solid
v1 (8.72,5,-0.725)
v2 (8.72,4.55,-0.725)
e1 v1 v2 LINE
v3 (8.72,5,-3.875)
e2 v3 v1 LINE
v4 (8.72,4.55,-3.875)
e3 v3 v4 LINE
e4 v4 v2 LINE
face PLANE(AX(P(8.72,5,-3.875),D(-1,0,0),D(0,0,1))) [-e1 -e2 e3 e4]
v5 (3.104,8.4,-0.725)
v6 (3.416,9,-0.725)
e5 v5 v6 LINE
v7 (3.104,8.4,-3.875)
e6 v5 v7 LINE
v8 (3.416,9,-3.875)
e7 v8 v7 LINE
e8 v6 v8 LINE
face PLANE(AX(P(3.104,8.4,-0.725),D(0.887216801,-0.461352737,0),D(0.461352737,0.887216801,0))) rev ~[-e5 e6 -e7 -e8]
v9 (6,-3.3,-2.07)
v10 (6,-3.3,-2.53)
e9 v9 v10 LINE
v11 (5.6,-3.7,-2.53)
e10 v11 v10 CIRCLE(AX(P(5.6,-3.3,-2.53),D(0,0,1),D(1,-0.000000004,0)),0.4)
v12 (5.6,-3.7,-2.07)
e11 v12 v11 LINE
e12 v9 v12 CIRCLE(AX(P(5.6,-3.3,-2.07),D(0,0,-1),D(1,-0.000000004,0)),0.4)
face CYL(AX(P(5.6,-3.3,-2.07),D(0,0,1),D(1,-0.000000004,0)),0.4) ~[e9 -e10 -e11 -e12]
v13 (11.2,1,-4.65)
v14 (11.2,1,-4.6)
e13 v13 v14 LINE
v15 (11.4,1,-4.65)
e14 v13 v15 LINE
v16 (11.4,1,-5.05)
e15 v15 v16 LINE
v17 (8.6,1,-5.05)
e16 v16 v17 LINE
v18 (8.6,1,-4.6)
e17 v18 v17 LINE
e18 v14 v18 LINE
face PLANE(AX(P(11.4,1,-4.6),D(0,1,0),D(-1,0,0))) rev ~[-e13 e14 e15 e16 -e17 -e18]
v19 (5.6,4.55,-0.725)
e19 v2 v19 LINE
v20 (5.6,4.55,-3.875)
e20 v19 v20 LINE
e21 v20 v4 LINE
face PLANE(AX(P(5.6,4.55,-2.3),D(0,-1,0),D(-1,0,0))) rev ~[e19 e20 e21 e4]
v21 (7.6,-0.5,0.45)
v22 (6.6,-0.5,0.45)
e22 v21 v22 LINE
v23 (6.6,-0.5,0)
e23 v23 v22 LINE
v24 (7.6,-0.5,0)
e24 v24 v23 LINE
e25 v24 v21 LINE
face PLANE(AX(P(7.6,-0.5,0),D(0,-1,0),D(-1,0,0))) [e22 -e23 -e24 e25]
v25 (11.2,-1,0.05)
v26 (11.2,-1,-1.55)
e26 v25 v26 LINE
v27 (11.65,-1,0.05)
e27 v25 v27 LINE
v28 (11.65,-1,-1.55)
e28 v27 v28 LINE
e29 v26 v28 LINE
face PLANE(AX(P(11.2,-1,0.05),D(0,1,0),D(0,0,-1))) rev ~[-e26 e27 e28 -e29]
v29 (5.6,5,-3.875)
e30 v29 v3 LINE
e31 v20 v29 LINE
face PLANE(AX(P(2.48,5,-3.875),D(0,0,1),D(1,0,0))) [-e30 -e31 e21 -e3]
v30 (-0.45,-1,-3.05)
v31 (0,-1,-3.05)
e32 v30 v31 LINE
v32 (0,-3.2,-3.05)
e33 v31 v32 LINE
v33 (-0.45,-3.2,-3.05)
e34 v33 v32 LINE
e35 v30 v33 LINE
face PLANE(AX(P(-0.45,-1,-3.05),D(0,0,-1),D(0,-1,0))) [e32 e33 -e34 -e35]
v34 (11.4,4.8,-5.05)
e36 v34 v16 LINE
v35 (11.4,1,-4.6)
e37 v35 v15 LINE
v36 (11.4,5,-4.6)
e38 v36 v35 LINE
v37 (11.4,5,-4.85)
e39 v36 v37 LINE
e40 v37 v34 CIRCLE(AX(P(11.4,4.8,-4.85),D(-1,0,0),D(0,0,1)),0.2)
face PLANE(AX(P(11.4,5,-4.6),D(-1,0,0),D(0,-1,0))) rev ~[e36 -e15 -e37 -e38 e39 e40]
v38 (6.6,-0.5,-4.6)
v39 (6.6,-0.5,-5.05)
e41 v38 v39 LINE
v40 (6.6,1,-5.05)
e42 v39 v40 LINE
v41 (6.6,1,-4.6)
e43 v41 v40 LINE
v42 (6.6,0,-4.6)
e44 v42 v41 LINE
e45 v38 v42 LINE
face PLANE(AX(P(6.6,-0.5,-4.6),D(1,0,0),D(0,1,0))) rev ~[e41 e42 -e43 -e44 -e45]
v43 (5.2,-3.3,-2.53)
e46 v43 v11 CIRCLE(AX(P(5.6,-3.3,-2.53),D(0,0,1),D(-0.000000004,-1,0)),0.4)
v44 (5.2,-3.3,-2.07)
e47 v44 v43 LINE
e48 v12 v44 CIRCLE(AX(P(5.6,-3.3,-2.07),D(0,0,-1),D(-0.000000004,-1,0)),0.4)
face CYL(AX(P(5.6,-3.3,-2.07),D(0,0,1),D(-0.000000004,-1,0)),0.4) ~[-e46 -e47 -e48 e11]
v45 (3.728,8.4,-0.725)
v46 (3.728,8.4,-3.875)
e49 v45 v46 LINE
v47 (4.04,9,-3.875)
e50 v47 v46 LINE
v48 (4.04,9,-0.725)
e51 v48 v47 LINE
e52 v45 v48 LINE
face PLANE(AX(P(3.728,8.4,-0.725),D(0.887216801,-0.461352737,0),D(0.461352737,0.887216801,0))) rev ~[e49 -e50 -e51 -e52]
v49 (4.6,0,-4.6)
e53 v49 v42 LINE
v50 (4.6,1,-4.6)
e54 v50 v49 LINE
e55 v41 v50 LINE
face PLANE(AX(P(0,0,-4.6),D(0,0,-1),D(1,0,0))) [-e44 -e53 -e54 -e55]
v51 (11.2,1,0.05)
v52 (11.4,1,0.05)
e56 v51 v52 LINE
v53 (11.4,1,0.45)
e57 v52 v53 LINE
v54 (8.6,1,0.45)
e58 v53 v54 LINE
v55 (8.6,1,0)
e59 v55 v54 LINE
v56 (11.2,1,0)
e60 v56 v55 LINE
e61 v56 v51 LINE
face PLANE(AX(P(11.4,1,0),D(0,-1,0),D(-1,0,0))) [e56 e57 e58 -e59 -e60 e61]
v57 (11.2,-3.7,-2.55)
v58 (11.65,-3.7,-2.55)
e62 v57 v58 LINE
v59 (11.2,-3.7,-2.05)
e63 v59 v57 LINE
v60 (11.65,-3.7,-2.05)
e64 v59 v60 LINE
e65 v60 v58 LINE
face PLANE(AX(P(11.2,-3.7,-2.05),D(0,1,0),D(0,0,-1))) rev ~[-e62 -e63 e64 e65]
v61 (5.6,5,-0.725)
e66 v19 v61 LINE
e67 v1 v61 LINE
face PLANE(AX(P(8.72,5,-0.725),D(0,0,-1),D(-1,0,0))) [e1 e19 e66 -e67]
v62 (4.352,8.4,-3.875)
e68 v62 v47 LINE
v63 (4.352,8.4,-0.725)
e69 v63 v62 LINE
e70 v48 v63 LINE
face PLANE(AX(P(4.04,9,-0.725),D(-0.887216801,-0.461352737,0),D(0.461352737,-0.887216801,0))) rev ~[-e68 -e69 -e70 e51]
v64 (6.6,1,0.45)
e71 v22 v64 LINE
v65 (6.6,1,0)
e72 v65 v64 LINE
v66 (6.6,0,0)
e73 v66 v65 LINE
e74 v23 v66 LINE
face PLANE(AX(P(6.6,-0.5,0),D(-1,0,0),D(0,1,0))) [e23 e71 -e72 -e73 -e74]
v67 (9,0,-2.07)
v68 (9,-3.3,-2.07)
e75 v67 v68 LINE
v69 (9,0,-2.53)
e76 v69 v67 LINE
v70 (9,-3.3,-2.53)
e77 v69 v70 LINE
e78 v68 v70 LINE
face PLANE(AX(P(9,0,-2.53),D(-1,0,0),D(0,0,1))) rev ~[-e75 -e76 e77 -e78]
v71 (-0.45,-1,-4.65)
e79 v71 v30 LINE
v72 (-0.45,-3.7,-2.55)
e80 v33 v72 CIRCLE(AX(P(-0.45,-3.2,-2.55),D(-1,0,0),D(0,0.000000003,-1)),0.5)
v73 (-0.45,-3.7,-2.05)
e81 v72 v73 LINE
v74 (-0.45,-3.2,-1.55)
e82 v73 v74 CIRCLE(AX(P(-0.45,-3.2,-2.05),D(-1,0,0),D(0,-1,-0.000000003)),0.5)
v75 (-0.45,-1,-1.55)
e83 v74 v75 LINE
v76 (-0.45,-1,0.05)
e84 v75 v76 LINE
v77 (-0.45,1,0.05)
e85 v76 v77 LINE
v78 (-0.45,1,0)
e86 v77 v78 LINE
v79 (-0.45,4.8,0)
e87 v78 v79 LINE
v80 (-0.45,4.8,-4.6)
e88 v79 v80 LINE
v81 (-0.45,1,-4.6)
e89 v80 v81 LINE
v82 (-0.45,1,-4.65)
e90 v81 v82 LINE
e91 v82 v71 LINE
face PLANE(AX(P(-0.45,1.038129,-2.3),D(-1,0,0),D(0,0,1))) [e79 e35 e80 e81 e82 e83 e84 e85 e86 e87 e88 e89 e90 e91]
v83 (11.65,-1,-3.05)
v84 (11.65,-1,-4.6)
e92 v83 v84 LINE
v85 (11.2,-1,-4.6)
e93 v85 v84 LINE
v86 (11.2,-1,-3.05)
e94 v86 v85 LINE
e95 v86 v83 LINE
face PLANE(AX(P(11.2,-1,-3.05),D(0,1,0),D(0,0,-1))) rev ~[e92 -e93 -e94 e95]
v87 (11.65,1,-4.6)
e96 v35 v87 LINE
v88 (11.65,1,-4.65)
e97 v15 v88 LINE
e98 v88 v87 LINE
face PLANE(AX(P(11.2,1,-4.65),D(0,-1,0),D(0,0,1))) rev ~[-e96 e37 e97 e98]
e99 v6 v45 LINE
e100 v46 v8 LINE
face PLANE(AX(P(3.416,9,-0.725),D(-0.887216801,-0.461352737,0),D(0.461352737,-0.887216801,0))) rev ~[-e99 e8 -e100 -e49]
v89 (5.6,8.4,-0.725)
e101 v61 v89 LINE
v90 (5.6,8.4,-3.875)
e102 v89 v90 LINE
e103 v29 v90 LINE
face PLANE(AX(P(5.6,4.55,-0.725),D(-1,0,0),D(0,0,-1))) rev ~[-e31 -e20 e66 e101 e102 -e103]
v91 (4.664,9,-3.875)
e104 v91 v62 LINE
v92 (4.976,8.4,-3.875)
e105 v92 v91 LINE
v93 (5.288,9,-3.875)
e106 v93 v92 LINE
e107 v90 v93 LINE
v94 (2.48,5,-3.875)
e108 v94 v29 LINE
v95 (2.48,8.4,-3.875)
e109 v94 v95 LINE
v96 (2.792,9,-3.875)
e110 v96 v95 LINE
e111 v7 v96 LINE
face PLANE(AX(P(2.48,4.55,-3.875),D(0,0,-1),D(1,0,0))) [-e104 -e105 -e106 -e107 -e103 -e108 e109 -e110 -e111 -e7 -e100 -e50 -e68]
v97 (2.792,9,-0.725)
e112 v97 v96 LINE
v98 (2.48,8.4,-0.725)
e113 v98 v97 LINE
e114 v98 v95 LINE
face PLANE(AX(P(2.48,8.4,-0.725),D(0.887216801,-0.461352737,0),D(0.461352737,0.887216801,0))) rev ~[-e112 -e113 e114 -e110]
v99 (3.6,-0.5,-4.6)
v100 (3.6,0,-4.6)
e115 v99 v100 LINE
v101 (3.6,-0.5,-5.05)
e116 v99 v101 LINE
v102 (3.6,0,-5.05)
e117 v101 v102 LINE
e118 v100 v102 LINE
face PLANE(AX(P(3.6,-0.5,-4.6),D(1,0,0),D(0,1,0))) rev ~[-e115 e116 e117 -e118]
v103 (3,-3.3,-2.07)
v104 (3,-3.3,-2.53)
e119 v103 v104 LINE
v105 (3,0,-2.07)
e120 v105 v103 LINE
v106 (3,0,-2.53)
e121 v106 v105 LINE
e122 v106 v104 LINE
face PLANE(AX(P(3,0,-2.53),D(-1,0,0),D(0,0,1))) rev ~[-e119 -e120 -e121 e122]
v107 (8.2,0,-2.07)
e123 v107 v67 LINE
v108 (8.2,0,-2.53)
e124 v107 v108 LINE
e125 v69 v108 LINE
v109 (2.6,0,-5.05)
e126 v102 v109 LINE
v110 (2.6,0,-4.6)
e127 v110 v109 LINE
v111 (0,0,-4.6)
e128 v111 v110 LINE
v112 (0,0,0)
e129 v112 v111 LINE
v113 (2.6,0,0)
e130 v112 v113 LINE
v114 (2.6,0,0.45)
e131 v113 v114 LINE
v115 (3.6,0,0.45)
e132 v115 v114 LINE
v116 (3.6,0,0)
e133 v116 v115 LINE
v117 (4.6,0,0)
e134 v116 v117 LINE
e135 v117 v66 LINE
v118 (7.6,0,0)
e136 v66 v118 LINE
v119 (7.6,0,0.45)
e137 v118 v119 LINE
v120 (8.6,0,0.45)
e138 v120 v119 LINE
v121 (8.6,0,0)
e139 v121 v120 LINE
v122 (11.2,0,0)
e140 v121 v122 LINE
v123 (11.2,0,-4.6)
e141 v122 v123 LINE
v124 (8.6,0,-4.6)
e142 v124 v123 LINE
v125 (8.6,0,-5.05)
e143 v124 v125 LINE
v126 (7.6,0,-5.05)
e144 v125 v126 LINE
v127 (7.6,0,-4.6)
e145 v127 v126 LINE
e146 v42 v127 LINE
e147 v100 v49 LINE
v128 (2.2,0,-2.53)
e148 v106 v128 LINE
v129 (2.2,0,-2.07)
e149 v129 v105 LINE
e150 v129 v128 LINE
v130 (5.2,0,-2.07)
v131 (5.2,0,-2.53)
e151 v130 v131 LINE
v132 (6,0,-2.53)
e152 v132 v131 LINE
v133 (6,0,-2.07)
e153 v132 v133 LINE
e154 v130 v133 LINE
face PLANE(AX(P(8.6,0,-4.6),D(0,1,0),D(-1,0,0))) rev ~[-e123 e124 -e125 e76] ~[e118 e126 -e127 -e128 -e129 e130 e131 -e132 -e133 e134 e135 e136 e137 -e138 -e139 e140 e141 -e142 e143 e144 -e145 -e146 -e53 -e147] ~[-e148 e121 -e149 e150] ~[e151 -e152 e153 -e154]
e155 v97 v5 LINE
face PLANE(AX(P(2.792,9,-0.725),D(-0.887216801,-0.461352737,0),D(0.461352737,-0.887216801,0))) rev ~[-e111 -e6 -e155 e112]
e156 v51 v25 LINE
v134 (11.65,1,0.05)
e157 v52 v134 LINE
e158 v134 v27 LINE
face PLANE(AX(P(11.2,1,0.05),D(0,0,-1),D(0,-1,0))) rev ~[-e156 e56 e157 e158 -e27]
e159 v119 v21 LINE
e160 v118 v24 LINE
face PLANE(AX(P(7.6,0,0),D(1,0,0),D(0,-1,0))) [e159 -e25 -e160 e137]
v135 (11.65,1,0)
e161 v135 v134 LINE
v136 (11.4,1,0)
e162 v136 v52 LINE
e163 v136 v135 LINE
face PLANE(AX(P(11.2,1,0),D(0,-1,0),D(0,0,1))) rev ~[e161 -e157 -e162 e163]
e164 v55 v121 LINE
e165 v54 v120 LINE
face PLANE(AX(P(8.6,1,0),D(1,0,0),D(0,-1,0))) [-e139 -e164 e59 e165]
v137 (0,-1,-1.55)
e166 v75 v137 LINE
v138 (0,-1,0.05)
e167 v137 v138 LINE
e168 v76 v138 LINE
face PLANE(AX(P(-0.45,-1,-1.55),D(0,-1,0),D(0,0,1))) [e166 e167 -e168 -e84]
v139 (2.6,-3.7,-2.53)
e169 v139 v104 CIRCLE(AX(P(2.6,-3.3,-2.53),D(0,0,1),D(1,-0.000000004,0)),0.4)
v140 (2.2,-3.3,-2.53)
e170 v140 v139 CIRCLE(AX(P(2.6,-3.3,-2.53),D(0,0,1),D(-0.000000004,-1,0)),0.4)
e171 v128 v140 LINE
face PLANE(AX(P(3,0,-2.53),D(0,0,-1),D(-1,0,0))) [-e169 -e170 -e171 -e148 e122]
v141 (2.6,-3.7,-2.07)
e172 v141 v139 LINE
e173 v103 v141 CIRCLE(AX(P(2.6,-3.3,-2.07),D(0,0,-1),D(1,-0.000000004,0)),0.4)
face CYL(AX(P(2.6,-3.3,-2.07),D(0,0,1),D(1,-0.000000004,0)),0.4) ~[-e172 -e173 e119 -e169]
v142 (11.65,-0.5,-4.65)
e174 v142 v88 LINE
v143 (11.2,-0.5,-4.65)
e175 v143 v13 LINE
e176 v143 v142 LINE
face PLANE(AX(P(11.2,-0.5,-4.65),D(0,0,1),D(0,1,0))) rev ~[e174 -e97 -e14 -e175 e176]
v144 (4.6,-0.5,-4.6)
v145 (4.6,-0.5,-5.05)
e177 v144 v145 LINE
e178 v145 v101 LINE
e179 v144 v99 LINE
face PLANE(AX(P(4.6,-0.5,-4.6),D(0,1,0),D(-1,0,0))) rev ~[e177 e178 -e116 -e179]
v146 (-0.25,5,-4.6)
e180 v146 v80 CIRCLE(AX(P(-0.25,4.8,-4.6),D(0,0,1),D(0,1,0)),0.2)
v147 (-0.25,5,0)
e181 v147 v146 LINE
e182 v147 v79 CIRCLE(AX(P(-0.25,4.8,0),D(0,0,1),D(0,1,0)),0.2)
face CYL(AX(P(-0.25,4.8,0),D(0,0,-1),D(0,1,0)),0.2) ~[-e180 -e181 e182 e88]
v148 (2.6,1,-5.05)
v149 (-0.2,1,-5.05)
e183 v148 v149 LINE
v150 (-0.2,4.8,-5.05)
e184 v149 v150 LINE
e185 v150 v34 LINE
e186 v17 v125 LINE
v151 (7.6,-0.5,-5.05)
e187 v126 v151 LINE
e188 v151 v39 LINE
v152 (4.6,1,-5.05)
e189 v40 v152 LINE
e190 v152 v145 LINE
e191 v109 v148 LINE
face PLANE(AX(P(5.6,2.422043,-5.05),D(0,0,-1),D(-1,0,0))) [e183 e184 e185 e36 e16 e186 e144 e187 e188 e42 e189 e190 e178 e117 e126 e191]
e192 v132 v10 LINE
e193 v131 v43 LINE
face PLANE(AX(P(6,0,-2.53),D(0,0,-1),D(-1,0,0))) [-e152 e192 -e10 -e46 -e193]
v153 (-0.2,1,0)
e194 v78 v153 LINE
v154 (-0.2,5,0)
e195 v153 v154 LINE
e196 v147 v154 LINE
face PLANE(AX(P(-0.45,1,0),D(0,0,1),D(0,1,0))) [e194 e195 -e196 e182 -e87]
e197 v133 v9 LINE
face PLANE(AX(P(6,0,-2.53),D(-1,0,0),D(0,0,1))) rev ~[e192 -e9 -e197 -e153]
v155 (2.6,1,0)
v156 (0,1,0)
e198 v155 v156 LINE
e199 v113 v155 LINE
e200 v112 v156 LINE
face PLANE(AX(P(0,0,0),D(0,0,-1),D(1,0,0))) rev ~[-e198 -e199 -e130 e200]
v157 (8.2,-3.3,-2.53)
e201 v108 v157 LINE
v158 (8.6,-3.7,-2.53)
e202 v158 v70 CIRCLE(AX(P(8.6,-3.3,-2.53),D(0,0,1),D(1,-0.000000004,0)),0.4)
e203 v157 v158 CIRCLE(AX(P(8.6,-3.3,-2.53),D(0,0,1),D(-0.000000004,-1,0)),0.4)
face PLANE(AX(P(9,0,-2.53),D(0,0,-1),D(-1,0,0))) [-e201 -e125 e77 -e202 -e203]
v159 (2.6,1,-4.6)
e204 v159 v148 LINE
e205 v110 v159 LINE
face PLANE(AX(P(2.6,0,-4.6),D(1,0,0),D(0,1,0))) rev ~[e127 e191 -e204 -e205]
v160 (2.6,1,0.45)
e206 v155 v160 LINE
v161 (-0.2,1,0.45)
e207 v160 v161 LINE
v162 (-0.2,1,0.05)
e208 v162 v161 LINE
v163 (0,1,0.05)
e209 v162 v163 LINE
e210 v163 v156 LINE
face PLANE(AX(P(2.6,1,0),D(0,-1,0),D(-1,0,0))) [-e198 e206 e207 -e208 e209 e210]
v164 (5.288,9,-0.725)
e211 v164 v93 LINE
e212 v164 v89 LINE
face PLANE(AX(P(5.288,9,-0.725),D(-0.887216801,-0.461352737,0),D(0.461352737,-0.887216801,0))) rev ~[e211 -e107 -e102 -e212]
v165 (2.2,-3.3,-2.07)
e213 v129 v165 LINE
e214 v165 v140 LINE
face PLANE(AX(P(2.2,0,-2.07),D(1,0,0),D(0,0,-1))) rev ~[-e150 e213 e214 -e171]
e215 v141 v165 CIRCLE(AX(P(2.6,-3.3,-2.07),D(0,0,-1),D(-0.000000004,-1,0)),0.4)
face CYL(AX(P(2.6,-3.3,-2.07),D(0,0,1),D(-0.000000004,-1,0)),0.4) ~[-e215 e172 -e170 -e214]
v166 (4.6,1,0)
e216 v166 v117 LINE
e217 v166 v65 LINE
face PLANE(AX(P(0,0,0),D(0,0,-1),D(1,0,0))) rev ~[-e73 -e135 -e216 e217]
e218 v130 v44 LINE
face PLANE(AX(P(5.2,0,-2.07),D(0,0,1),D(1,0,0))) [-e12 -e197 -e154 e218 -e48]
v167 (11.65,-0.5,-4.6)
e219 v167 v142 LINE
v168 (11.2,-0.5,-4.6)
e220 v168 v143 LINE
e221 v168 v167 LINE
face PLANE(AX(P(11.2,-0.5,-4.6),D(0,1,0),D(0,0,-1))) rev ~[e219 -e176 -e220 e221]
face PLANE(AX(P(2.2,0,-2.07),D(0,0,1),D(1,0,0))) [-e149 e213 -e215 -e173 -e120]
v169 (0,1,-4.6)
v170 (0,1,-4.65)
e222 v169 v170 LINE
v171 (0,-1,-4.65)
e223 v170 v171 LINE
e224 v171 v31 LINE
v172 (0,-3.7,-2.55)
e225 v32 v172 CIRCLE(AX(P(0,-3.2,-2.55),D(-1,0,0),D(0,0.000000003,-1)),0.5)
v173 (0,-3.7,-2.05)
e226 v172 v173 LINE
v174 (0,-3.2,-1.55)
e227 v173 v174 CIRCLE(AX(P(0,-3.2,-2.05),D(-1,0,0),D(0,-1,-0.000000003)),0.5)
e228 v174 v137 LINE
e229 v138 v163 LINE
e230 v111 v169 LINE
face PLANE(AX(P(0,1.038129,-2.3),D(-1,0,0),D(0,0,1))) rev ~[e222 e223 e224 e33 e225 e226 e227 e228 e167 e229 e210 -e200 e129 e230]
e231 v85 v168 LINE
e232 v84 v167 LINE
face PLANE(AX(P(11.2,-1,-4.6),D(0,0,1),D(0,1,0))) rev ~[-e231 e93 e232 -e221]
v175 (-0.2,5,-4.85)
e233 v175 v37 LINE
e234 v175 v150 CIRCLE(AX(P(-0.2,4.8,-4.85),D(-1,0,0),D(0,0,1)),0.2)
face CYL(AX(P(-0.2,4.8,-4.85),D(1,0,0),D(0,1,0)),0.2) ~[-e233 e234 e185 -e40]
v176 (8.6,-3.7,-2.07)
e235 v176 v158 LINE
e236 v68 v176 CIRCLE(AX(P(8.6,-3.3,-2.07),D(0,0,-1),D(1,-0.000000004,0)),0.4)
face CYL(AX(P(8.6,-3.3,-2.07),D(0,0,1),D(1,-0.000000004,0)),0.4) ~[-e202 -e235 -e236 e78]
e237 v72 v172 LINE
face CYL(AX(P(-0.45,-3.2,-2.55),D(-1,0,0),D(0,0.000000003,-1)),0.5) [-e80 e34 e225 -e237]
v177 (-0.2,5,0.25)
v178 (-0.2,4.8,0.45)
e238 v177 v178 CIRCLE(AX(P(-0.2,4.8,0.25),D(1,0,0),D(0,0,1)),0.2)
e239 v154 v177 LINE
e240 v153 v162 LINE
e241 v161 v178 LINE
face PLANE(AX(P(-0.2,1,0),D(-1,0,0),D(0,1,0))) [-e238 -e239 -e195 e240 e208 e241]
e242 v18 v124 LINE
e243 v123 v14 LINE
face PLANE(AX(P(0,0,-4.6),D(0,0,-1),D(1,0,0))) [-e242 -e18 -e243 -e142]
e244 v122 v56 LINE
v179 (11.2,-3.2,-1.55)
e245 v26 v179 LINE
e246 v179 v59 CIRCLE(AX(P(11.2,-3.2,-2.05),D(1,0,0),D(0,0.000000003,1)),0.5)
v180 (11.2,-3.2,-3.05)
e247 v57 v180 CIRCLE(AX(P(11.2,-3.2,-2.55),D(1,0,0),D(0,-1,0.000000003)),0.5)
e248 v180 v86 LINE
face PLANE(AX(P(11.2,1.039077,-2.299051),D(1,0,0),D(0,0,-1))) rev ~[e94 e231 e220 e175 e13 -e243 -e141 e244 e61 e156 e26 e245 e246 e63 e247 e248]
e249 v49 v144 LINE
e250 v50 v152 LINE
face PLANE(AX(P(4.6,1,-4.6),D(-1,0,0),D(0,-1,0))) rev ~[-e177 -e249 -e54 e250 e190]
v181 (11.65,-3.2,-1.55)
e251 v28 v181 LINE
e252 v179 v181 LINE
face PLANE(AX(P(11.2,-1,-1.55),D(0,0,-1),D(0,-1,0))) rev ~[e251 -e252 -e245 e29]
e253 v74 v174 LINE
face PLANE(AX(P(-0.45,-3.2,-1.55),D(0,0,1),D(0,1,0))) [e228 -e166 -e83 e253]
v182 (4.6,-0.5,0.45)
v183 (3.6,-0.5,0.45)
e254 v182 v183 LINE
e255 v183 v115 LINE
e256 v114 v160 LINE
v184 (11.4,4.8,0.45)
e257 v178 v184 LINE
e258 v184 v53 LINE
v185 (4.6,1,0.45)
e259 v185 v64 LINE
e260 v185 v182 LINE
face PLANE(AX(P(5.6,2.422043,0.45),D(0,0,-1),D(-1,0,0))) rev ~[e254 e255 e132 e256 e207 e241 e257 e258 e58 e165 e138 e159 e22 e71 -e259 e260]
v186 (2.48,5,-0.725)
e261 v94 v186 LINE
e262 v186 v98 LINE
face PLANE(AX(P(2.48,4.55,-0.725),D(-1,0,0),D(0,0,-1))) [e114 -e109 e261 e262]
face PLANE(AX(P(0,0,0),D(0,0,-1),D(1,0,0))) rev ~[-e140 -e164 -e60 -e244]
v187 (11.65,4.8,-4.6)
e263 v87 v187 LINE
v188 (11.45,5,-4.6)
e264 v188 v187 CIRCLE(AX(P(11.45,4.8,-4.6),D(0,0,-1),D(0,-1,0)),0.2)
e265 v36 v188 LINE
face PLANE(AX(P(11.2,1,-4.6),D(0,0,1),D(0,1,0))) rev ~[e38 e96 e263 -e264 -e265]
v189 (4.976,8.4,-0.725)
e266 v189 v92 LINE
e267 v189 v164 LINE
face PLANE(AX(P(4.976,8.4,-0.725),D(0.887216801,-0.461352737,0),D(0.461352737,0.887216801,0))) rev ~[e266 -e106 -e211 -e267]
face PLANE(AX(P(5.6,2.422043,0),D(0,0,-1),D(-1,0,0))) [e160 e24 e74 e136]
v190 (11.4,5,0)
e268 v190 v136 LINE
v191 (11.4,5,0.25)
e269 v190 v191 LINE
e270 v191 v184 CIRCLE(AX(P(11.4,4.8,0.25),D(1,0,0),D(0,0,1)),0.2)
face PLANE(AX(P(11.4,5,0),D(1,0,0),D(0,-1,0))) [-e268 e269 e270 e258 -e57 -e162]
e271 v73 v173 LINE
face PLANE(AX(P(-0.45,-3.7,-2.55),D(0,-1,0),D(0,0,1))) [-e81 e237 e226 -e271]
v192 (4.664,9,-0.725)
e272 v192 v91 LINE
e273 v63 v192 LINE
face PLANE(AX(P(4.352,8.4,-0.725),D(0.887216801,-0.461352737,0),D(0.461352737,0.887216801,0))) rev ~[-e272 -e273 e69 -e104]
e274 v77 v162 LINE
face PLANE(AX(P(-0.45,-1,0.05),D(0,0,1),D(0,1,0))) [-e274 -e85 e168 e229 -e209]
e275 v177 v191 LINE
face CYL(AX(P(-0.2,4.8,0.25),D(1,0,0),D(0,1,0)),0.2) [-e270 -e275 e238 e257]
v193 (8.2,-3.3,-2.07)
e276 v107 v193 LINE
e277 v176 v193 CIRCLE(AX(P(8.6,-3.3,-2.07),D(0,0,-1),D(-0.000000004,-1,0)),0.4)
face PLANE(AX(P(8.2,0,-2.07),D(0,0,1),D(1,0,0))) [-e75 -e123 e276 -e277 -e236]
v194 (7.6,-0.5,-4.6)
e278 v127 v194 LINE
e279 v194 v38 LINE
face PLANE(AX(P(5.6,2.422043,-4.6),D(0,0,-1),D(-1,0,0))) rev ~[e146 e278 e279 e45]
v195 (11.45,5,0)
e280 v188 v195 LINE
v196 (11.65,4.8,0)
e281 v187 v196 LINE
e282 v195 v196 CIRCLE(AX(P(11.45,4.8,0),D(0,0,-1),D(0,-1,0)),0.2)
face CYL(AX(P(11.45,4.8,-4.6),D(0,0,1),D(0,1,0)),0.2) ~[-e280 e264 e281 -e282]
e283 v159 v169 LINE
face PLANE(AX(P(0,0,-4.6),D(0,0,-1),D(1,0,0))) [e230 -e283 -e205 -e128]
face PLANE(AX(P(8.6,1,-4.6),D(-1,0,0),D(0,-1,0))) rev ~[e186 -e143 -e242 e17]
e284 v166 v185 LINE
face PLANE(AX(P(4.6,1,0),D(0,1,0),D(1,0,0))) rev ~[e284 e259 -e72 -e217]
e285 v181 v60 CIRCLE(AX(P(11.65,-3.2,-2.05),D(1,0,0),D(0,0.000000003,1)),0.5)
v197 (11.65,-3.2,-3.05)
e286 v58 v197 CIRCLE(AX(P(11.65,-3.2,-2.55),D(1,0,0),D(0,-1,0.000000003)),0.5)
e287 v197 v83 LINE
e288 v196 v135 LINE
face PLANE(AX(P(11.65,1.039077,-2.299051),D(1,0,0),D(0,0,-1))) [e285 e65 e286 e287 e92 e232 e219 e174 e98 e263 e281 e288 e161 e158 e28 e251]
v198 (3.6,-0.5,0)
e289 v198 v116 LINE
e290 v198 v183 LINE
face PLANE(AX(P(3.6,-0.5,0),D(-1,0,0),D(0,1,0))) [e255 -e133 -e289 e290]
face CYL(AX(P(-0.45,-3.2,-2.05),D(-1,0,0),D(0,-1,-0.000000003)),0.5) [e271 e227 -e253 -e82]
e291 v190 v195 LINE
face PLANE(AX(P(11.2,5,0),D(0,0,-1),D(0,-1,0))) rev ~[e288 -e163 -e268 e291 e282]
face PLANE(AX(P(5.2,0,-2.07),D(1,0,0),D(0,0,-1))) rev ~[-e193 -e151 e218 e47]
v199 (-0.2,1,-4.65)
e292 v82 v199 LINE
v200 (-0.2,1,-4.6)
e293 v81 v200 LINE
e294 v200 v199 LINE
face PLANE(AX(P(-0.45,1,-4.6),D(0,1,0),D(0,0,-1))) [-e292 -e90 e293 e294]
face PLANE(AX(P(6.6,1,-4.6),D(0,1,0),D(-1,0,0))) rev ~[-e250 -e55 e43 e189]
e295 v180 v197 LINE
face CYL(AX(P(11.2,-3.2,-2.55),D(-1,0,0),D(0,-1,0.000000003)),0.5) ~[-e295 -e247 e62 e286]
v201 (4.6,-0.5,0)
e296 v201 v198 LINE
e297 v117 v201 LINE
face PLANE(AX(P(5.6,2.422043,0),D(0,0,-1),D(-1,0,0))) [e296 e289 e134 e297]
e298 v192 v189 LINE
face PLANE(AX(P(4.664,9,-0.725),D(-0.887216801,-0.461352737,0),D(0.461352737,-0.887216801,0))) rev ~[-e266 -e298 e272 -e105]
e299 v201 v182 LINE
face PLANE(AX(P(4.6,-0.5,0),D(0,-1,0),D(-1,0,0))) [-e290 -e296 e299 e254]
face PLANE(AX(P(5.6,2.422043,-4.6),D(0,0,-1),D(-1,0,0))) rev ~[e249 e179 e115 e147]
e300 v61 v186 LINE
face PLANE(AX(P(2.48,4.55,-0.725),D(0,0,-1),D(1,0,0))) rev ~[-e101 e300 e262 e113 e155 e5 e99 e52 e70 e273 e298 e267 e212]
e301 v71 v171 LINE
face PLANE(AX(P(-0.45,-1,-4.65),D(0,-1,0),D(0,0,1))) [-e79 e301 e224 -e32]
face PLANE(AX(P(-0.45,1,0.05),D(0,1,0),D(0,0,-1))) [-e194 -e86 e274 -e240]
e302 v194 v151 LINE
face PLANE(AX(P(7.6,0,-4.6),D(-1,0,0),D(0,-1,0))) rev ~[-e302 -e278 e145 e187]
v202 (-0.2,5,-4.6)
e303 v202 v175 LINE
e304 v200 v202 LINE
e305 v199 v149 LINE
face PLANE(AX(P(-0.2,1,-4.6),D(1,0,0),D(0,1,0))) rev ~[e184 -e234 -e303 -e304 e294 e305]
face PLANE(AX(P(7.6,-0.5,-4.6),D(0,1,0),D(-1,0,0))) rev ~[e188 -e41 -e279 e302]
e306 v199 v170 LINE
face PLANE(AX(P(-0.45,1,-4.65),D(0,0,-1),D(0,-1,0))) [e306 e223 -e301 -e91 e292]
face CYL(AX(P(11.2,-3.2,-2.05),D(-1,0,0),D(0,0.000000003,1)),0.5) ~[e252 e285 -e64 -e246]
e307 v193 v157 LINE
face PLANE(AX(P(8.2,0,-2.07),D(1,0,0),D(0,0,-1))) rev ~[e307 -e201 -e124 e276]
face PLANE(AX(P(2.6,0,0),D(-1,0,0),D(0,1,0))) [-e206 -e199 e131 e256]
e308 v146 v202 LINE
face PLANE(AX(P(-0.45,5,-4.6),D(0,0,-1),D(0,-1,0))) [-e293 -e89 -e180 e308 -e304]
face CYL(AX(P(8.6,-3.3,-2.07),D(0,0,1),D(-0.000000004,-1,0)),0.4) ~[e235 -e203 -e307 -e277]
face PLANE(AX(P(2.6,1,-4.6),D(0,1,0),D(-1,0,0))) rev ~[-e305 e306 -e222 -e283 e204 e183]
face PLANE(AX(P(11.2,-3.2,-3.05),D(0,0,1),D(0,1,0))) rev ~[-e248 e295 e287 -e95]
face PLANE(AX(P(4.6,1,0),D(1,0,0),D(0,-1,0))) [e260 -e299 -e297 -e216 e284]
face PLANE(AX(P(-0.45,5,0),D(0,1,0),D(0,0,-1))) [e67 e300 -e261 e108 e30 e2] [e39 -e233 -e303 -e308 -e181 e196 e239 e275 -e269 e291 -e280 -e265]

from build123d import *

# Parameters (mm, degrees)
SKETCH_1_W          = 11.2
SKETCH_1_H          = 4.6
EXTRUDE_1_DEPTH     = 5
EXTRUDE_2_DEPTH     = 0.45
EXTRUDE_3_DEPTH     = 0.45
EXTRUDE_4_DEPTH     = 0.45
EXTRUDE_START       = 0.45
EXTRUDE_5_DEPTH     = 0.45
CUT_EXTRUDE_1_DEPTH = 0.45
SKETCH_7_W          = 3.12
SKETCH_7_H          = 3.15
EXTRUDE_6_DEPTH     = 4.45
CUT_EXTRUDE_2_DEPTH = 4.45
EXTRUDE_7_DEPTH     = 3.7
CUT_EXTRUDE_3_DEPTH = 3.7
FILLET_1_R          = 0.2
FILLET_2_R          = 0.2
FILLET_3_R          = 0.2
FILLET_4_R          = 0.2


with BuildPart() as part:
    # 草图1 → 凸台-拉伸1 (new body)
    with BuildSketch(Plane(origin=(0, 0, 0), x_dir=(1, 0, 0), z_dir=(0, 1, 0))):
        with Locations((5.6, 2.3)):
            Rectangle(SKETCH_1_W, SKETCH_1_H)
    extrude(amount=EXTRUDE_1_DEPTH)

    # 草图2 → 凸台-拉伸2 (add)
    with BuildSketch(Plane.XY):
        Polygon((11.4, 5), (11.4, 1), (8.6, 1), (8.6, 0), (7.6, 0), (7.6, -0.5), (6.6, -0.5), (6.6, 1), (5.6, 1), (4.6, 1), (4.6, -0.5), (3.6, -0.5), (3.6, 0), (2.6, 0), (2.6, 1), (-0.2, 1), (-0.2, 5), align=None)
    extrude(amount=EXTRUDE_2_DEPTH)

    # 草图3 → 凸台-拉伸3 (add)
    with BuildSketch(Plane(origin=(0, 0, -4.6), x_dir=(-1, 0, 0), z_dir=(0, 0, -1))):
        Polygon((-5.6, 5), (-11.4, 5), (-11.4, 1), (-8.6, 1), (-8.6, 0), (-7.6, 0), (-7.6, -0.5), (-6.6, -0.5), (-6.6, 1), (-4.6, 1), (-4.6, -0.5), (-3.6, -0.5), (-3.6, 0), (-2.6, 0), (-2.6, 1), (0.2, 1), (0.2, 5), align=None)
    extrude(amount=EXTRUDE_3_DEPTH)

    # 草图4 → 凸台-拉伸4 (add)
    with BuildSketch(Plane(origin=(11.2, 0, 0), x_dir=(0, 0, -1), z_dir=(1, 0, 0))):
        with BuildLine():
            Line((0, 5), (0, 1))
            Line((0, 1), (-0.05, 1))
            Line((-0.05, 1), (-0.05, -1))
            Line((-0.05, -1), (0, -1))
            Line((0, -1), (1.55, -1))
            Line((1.55, -1), (1.55, -3.2))
            ThreePointArc((1.55, -3.2), (1.696446609, -3.553553391), (2.05, -3.7))
            Line((2.05, -3.7), (2.3, -3.7))
            Line((2.3, -3.7), (2.55, -3.7))
            ThreePointArc((2.55, -3.7), (2.903553391, -3.553553391), (3.05, -3.2))
            Line((3.05, -3.2), (3.05, -1))
            Line((3.05, -1), (4.6, -1))
            Line((4.6, -1), (4.6, -0.5))
            Line((4.6, -0.5), (4.65, -0.5))
            Line((4.65, -0.5), (4.65, 1))
            Line((4.65, 1), (4.6, 1))
            Line((4.6, 1), (4.6, 5))
            Line((4.6, 5), (0, 5))
        make_face()
    extrude(amount=EXTRUDE_4_DEPTH)

    # 草图5 → 凸台-拉伸5 (add)
    with BuildSketch(Plane.ZY.offset(EXTRUDE_START)):
        with BuildLine():
            Line((-4.6, 5), (-4.6, 1))
            Line((-4.6, 1), (-4.65, 1))
            Line((-4.65, 1), (-4.65, -1))
            Line((-4.65, -1), (-4.6, -1))
            Line((-4.6, -1), (-3.05, -1))
            Line((-3.05, -1), (-3.05, -3.2))
            ThreePointArc((-3.05, -3.2), (-2.903553391, -3.553553391), (-2.55, -3.7))
            Line((-2.55, -3.7), (-2.05, -3.7))
            ThreePointArc((-2.05, -3.7), (-1.696446609, -3.553553391), (-1.55, -3.2))
            Line((-1.55, -3.2), (-1.55, -1))
            Line((-1.55, -1), (0.05, -1))
            Line((0.05, -1), (0.05, 1))
            Line((0.05, 1), (0, 1))
            Line((0, 1), (0, 5))
            Line((0, 5), (-4.6, 5))
        make_face()
    extrude(amount=-EXTRUDE_5_DEPTH)

    # 草图6 → 切除-拉伸1 (cut)
    with BuildSketch(Plane(origin=(0, 5, 0), x_dir=(1, 0, 0), z_dir=(0, 1, 0))):
        Polygon((2.48, 2.3), (2.48, 3.875), (8.72, 3.875), (8.72, 0.725), (2.48, 0.725), align=None)
    extrude(amount=-CUT_EXTRUDE_1_DEPTH, mode=Mode.SUBTRACT)

    # 草图7 → 凸台-拉伸6 (add)
    with BuildSketch(Plane(origin=(0, 4.55, 0), x_dir=(1, 0, 0), z_dir=(0, 1, 0))):
        with Locations((4.04, 2.3)):
            Rectangle(SKETCH_7_W, SKETCH_7_H)
    extrude(amount=EXTRUDE_6_DEPTH)

    # 草图8 → 切除-拉伸2 (cut)
    with BuildSketch(Plane.XY.offset(-0.725)):
        Polygon((2.48, 8.4), (2.792, 9), (2.48, 9), align=None)
        Polygon((3.104, 8.4), (3.416, 9), (2.792, 9), align=None)
        Polygon((3.728, 8.4), (4.04, 9), (3.416, 9), align=None)
        Polygon((4.352, 8.4), (4.664, 9), (4.04, 9), align=None)
        Polygon((5.288, 9), (4.664, 9), (4.976, 8.4), align=None)
        Polygon((5.6, 9), (5.288, 9), (5.6, 8.4), align=None)
    extrude(amount=-CUT_EXTRUDE_2_DEPTH, mode=Mode.SUBTRACT)

    # 草图9 → 凸台-拉伸7 (add)
    with BuildSketch(Plane.XZ):
        Polygon((8.2, -2.3), (8.2, -2.07), (9, -2.07), (9, -2.3), (9, -2.53), (8.2, -2.53), align=None)
        Polygon((5.2, -2.3), (5.2, -2.07), (6, -2.07), (6, -2.3), (6, -2.53), (5.2, -2.53), align=None)
        Polygon((2.2, -2.3), (2.2, -2.07), (3, -2.07), (3, -2.3), (3, -2.53), (2.2, -2.53), align=None)
    extrude(amount=EXTRUDE_7_DEPTH)

    # 草图10 → 切除-拉伸3 (cut)
    with BuildSketch(Plane.XY.offset(-2.07)):
        with BuildLine():
            ThreePointArc((2.6, -3.7), (2.317157288, -3.582842712), (2.2, -3.3))
            Line((2.2, -3.3), (2.2, -3.7))
            Line((2.2, -3.7), (2.6, -3.7))
        make_face()
        with BuildLine():
            ThreePointArc((3, -3.3), (2.882842712, -3.582842712), (2.6, -3.7))
            Line((2.6, -3.7), (3, -3.7))
            Line((3, -3.7), (3, -3.3))
        make_face()
        with BuildLine():
            Line((3, -3.3), (3, -3.7))
            Line((3, -3.7), (5.6, -3.7))
            ThreePointArc((5.6, -3.7), (5.317157288, -3.582842712), (5.2, -3.3))
            Line((5.2, -3.3), (3, -3.3))
        make_face()
        with BuildLine():
            ThreePointArc((6, -3.3), (5.882842712, -3.582842712), (5.6, -3.7))
            Line((5.6, -3.7), (8.6, -3.7))
            ThreePointArc((8.6, -3.7), (8.317157288, -3.582842712), (8.2, -3.3))
            Line((8.2, -3.3), (6, -3.3))
        make_face()
        with BuildLine():
            ThreePointArc((9, -3.3), (8.882842712, -3.582842712), (8.6, -3.7))
            Line((8.6, -3.7), (9, -3.7))
            Line((9, -3.7), (9, -3.3))
        make_face()
    extrude(amount=-CUT_EXTRUDE_3_DEPTH, mode=Mode.SUBTRACT)

    # 圆角1
    fillet_1_edges = [part.edges().sort_by_distance(p)[0] for p in [
        (-0.45, 5, -2.3),
    ]]
    fillet(fillet_1_edges, radius=FILLET_1_R)

    # 圆角2
    fillet_2_edges = [part.edges().sort_by_distance(p)[0] for p in [
        (5.6, 5, 0.45),
    ]]
    fillet(fillet_2_edges, radius=FILLET_2_R)

    # 圆角3
    fillet_3_edges = [part.edges().sort_by_distance(p)[0] for p in [
        (11.65, 5, -2.3),
    ]]
    fillet(fillet_3_edges, radius=FILLET_3_R)

    # 圆角4
    fillet_4_edges = [part.edges().sort_by_distance(p)[0] for p in [
        (5.6, 5, -5.05),
    ]]
    fillet(fillet_4_edges, radius=FILLET_4_R)


solid = part.part
